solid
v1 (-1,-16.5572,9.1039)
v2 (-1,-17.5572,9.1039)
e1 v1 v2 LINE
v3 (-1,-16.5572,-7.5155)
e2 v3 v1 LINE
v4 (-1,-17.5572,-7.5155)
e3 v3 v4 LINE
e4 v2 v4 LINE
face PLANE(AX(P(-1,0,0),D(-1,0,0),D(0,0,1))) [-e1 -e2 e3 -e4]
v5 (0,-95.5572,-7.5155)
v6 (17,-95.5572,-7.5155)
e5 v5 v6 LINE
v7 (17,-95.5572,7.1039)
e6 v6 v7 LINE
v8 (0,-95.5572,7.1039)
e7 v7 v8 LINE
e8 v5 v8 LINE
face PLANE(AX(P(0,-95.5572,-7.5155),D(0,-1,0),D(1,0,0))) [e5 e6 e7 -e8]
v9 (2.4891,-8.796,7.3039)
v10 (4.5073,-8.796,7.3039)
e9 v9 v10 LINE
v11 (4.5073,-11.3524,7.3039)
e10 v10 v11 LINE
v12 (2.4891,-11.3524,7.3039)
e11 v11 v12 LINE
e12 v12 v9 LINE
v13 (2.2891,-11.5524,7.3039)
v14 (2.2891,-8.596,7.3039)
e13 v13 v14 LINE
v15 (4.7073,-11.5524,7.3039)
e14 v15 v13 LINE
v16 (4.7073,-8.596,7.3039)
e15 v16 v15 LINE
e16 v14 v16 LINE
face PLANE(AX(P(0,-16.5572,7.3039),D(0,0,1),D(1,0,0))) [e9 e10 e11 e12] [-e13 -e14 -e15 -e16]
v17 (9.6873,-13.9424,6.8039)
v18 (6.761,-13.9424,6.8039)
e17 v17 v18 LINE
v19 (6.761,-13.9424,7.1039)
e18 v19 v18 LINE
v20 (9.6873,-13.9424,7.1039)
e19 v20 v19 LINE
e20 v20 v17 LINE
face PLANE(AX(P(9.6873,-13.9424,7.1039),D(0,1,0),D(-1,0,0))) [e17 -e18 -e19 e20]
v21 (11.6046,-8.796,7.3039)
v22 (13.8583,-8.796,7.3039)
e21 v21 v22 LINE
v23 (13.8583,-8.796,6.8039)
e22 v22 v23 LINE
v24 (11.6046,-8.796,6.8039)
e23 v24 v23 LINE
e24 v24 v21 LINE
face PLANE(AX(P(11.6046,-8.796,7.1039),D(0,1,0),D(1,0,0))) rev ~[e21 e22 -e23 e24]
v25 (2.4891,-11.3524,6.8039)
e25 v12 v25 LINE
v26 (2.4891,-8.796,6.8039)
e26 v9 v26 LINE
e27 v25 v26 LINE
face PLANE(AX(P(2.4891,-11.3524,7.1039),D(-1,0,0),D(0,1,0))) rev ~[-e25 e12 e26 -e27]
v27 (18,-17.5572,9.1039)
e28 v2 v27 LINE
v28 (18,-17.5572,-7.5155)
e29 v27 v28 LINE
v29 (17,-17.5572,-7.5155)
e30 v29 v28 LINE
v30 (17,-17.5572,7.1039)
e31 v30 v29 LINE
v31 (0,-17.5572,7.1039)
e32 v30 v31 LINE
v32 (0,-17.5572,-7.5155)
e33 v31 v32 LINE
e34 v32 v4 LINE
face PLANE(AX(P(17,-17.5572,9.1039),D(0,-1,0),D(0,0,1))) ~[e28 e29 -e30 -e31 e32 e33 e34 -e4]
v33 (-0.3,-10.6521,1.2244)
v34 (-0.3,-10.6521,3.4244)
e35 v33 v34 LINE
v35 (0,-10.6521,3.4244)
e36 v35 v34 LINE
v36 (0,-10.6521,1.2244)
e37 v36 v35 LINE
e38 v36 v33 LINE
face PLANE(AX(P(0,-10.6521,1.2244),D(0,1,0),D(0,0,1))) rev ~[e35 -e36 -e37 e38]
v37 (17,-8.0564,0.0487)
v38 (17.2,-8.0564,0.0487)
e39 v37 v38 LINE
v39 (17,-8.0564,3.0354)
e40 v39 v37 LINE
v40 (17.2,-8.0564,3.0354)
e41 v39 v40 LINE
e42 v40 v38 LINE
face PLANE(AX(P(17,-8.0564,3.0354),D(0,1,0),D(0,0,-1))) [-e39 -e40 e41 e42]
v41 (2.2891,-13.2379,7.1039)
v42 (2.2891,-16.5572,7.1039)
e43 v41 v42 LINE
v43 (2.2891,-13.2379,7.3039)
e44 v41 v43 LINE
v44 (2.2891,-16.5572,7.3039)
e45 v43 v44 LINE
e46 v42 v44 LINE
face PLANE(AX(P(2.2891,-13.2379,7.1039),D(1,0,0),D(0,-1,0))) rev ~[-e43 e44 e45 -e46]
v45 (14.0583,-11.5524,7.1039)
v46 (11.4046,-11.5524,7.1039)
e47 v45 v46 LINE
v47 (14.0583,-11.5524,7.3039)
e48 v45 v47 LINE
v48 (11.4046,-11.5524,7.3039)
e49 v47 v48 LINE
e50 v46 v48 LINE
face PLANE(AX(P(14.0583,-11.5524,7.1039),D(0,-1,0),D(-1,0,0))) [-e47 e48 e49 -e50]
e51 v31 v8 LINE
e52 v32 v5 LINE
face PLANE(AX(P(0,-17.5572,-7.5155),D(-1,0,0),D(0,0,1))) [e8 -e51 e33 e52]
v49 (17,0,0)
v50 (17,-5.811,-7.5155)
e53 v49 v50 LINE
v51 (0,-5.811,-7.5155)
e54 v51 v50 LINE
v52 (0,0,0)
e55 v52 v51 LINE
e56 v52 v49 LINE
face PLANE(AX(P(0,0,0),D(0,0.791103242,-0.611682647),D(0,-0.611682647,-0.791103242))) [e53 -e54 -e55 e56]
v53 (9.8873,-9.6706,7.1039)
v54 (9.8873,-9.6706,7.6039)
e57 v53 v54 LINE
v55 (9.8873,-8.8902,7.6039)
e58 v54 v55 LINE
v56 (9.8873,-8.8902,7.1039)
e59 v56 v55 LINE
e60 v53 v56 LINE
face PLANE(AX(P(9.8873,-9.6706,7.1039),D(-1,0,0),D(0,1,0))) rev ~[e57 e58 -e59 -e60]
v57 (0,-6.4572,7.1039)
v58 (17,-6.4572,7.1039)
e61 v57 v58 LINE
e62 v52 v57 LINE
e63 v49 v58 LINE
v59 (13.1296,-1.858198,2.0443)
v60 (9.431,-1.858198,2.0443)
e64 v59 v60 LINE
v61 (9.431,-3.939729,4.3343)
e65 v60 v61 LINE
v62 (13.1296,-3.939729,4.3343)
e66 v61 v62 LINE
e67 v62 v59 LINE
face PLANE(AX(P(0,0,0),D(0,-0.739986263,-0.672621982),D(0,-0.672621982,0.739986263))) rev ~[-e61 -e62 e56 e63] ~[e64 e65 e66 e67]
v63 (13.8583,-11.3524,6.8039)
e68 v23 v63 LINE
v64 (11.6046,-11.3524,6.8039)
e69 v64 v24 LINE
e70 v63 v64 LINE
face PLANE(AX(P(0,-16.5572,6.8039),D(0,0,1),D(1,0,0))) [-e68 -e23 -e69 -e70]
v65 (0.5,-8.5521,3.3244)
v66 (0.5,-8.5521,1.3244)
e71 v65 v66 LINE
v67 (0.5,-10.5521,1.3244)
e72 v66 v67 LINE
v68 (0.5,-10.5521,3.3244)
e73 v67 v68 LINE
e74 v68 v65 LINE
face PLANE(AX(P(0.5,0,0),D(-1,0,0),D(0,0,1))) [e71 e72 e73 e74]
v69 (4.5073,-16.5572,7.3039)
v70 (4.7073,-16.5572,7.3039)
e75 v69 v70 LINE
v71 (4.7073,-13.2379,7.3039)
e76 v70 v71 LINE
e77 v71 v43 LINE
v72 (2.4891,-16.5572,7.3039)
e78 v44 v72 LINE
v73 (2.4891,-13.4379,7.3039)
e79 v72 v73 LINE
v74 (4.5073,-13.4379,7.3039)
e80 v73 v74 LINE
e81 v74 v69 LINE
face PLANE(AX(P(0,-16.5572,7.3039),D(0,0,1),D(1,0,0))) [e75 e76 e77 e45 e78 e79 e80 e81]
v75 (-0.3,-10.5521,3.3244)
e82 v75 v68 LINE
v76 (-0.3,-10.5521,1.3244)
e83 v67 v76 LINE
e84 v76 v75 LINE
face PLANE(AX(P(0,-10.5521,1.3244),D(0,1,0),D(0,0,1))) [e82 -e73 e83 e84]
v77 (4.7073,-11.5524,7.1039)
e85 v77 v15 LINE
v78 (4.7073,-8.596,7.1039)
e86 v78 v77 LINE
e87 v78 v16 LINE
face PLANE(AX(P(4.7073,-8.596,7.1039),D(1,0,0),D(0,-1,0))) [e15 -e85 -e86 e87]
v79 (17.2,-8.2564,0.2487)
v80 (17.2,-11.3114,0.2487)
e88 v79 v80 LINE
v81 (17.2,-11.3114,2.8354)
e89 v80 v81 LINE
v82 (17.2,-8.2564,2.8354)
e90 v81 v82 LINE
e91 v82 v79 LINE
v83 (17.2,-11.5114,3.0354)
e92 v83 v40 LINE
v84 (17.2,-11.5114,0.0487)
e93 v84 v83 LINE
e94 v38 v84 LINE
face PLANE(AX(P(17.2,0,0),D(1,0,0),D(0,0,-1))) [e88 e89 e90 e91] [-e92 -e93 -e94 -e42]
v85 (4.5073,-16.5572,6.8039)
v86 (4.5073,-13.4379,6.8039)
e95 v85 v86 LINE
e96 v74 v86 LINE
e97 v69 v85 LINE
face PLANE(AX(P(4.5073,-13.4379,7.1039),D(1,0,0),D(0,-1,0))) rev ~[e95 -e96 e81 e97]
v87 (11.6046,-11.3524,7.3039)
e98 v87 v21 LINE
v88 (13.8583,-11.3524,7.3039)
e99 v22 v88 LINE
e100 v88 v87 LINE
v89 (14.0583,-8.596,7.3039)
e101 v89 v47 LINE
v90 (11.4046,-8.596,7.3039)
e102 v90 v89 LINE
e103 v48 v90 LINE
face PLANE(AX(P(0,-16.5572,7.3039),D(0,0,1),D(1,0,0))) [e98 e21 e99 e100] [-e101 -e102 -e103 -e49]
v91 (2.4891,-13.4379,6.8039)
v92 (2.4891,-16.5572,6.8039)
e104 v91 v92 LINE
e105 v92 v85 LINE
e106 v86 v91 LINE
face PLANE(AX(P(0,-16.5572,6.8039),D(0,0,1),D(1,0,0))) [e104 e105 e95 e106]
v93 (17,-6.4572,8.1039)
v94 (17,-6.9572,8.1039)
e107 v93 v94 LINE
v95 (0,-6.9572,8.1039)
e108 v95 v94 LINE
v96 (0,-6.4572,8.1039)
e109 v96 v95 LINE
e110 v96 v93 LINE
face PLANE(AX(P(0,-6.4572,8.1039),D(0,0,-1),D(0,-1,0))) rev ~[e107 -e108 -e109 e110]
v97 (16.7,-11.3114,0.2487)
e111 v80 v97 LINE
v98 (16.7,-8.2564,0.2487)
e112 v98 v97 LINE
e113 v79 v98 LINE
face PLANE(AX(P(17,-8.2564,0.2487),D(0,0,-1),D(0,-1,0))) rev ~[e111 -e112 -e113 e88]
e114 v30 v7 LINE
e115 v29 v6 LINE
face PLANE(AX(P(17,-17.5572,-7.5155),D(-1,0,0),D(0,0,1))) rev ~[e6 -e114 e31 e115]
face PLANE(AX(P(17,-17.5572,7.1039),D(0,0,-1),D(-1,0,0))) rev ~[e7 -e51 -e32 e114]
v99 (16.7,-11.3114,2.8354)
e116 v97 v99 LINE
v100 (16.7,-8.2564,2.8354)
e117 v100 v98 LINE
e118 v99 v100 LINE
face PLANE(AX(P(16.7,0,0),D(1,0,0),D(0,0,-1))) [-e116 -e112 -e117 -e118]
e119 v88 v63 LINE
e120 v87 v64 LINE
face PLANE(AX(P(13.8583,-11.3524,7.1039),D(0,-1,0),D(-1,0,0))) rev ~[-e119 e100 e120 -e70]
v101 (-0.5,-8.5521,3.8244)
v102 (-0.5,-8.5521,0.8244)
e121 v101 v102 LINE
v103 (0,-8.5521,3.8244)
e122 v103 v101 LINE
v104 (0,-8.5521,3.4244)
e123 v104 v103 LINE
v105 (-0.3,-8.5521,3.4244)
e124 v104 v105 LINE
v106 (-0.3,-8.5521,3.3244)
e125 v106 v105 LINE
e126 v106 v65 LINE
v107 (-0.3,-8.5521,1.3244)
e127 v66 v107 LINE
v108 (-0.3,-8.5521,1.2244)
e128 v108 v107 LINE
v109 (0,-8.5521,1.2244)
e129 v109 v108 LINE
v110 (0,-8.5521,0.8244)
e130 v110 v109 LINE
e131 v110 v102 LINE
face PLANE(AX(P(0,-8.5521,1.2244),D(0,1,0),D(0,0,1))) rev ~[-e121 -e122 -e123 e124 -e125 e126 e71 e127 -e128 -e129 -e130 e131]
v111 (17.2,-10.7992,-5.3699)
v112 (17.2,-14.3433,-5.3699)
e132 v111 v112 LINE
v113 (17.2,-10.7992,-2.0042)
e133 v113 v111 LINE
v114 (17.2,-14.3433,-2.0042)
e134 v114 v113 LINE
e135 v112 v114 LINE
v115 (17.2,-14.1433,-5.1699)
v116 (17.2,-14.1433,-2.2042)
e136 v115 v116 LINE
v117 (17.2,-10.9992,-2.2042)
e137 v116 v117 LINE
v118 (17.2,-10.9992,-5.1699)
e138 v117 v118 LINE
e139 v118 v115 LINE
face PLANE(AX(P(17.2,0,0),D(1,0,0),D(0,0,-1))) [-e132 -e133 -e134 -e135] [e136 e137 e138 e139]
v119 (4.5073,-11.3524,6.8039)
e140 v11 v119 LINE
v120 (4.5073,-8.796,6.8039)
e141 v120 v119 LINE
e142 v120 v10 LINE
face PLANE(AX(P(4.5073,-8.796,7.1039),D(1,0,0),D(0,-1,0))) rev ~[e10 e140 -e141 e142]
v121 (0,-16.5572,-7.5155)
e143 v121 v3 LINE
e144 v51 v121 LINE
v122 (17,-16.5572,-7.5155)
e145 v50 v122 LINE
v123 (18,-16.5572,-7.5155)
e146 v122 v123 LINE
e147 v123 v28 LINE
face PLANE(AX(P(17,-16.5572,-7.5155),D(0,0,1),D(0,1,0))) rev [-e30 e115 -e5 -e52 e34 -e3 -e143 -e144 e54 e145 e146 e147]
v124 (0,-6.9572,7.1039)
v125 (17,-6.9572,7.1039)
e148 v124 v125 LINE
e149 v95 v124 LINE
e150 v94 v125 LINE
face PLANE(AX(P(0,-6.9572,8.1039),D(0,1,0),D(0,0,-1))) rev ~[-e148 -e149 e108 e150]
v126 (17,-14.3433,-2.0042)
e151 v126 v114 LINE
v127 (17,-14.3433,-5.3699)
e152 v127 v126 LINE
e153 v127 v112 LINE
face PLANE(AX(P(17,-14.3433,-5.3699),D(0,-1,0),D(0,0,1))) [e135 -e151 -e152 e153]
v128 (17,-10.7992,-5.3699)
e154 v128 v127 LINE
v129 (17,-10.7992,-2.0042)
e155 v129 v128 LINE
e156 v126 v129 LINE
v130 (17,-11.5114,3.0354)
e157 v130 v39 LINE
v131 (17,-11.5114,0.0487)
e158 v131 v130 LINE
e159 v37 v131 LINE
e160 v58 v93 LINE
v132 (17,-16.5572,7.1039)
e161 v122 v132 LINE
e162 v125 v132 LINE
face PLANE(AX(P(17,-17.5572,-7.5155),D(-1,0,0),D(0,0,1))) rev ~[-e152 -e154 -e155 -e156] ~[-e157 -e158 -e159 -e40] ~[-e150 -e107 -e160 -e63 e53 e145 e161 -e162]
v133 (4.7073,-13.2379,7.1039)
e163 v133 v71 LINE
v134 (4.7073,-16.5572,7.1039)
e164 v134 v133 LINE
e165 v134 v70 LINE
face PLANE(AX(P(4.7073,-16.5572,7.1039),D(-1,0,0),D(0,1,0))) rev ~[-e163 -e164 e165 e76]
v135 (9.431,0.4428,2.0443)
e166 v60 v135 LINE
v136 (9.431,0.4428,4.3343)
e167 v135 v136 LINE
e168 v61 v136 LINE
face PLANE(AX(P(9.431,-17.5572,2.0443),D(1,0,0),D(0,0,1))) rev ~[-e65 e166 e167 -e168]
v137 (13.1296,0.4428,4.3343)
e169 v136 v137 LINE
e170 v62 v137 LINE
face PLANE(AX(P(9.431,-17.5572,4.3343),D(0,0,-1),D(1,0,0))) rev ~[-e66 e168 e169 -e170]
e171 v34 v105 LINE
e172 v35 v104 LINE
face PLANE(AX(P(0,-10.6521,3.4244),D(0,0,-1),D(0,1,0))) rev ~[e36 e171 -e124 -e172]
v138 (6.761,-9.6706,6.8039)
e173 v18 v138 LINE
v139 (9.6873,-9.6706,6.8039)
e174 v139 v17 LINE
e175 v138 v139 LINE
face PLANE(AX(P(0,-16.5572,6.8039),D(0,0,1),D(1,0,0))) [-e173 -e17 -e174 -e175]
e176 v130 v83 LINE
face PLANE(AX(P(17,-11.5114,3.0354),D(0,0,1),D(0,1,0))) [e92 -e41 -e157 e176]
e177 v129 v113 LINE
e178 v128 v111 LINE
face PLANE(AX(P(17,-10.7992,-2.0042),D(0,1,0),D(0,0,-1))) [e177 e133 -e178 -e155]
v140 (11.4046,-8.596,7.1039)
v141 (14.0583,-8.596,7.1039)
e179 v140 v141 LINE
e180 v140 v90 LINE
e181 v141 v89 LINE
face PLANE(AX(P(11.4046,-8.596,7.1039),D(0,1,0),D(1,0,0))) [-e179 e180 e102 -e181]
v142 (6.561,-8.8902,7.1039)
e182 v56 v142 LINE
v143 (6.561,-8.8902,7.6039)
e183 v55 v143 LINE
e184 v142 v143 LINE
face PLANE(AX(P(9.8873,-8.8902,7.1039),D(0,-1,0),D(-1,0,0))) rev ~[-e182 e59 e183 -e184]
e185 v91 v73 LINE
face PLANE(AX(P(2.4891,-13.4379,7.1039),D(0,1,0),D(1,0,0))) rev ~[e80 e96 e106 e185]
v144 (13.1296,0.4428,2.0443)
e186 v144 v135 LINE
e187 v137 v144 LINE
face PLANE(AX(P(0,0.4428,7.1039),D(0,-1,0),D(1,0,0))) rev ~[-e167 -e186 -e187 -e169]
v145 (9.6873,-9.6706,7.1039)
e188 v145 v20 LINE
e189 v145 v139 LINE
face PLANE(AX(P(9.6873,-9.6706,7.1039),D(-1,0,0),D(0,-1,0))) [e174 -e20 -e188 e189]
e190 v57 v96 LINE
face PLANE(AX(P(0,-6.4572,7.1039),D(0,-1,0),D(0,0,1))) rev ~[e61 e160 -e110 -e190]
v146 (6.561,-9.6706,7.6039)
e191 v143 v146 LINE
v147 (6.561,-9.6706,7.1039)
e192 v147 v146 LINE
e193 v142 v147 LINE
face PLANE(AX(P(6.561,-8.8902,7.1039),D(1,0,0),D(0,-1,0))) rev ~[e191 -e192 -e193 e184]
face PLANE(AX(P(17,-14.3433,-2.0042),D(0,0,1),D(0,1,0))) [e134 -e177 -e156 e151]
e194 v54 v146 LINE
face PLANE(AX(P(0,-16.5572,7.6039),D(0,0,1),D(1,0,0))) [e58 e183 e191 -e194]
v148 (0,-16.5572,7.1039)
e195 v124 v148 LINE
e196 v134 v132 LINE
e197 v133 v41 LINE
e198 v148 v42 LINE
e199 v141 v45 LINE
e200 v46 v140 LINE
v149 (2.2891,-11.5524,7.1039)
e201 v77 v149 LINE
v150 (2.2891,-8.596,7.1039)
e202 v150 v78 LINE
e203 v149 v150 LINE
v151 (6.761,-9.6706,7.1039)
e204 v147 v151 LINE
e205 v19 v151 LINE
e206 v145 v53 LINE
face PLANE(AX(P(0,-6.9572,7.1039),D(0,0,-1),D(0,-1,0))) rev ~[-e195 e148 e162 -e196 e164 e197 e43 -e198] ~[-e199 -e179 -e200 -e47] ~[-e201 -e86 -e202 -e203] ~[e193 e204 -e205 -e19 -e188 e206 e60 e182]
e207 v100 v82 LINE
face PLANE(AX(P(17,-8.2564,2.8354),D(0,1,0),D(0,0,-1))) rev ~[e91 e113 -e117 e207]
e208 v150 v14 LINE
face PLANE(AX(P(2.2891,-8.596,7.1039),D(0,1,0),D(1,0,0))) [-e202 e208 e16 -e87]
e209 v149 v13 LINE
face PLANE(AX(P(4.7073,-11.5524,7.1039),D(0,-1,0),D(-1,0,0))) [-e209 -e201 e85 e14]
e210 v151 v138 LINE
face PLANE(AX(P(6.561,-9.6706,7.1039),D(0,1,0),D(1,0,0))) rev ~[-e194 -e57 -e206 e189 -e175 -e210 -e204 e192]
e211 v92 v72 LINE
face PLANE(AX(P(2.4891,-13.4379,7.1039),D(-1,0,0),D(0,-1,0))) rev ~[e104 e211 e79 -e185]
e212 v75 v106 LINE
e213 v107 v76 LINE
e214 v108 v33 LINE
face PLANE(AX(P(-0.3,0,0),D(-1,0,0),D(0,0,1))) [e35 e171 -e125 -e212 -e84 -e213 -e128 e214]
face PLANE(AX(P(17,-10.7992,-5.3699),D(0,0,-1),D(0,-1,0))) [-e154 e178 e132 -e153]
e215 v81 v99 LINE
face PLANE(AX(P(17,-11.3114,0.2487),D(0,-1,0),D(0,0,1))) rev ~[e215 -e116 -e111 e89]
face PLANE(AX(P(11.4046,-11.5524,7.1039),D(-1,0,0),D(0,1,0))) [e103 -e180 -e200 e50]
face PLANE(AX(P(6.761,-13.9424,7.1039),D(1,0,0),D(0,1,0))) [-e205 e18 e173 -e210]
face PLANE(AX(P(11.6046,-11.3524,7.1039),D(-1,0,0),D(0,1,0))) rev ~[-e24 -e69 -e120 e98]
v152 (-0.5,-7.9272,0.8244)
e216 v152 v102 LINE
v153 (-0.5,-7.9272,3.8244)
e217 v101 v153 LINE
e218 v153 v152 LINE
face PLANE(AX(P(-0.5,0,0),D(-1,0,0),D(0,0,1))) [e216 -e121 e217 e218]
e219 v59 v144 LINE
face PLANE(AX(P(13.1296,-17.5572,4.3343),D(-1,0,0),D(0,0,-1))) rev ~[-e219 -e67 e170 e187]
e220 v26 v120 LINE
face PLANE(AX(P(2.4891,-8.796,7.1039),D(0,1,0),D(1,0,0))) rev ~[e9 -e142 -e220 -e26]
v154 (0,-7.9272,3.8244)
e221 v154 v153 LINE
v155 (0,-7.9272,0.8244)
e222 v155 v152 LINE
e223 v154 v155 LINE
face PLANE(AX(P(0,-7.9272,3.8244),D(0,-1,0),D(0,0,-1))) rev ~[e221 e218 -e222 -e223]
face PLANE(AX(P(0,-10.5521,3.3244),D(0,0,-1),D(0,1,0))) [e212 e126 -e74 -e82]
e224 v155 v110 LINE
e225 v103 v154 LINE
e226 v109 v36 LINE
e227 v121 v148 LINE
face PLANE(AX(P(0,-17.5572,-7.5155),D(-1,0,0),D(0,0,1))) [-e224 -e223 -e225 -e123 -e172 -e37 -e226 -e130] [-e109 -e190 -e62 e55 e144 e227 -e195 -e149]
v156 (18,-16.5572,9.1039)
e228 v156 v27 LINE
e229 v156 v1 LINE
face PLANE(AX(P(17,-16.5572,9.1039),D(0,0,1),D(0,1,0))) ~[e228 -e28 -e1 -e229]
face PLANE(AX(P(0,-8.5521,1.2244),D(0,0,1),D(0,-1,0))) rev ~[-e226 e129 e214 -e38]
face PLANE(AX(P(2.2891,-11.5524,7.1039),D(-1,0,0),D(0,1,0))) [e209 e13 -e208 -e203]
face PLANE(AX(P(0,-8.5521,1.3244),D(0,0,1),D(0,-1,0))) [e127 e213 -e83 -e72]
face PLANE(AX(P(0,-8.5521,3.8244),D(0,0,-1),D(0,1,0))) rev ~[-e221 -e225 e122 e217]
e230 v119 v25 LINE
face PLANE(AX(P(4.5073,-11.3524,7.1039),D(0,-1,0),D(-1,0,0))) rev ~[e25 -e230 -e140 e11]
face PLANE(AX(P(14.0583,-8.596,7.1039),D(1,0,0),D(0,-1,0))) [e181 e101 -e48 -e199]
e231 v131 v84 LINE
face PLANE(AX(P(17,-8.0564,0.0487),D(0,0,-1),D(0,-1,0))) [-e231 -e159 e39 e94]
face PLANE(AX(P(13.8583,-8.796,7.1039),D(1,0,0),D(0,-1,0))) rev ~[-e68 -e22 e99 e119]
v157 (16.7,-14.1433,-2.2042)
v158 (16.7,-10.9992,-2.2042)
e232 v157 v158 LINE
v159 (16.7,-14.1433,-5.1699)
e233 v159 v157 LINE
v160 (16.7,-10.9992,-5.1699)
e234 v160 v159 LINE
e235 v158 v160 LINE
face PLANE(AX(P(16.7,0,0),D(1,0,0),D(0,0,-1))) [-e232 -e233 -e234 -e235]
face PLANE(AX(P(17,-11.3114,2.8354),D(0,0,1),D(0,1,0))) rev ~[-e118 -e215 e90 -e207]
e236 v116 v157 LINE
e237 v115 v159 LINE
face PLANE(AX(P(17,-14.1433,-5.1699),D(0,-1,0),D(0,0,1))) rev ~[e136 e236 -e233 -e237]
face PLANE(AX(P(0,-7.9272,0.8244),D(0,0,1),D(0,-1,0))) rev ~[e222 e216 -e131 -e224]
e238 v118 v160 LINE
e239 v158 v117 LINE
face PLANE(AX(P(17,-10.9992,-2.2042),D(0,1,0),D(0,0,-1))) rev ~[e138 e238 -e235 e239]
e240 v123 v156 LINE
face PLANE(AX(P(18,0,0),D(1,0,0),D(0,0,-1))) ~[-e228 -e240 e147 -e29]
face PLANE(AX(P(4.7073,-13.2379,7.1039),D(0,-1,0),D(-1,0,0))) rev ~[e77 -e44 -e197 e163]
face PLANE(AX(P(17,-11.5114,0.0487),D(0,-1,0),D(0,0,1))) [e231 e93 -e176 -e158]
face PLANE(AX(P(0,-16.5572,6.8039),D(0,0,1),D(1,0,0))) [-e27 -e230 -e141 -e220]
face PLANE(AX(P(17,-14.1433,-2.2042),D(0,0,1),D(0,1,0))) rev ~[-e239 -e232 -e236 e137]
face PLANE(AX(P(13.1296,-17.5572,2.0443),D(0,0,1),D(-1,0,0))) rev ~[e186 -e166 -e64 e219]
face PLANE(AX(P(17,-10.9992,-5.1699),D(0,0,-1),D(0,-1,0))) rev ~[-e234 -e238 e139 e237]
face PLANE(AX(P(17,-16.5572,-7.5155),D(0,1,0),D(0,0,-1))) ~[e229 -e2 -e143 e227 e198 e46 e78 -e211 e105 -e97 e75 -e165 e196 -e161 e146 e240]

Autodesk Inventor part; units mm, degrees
ref_plane "YZ Plane" through (0, 0, 0) normal (1, 0, 0) x (0, 1, 0)
ref_plane "XZ Plane" through (0, 0, 0) normal (0, 1, 0) x (-1, 0, 0)
sketch "草圖1" plane through (0, 0, 0) normal (1, 0, 0) x (0, 1, 0)
  line L0 (0, 0) -> (-6.4572, 7.1039)
  line L1 (-6.4572, 7.1039) -> (-6.4572, 8.1039)
  line L2 (-6.4572, 8.1039) -> (-6.9572, 8.1039)
  line L3 (-6.9572, 8.1039) -> (-6.9572, 7.1039)
  line L4 (-6.9572, 7.1039) -> (-16.5572, 7.1039)
  line L5 (-16.5572, 7.1039) -> (-16.5572, 9.1039)
  line L6 (-16.5572, 9.1039) -> (-17.5572, 9.1039)
  line L7 (-17.5572, 9.1039) -> (-17.5572, 0)
  line L8 (0, 0) -> (-5.811, -7.5155)
  line L9 (-5.811, -7.5155) -> (-17.5572, -7.5155)
  line L10 (-17.5572, -7.5155) -> (-17.5572, 0)
  dimension "d0" = 9.6
  dimension "d1" = 1
  dimension "d2" = 0.5
  dimension "d3" = 9.6
  dimension "d4" = 2
  dimension "d5" = 1
  dimension "d6" = 9.5
extrude "擠出1" add sketch "草圖1" along normal blind 17
sketch "草圖2" plane through (0, 0, 0) normal (-1, 0, 0) x (0, 0, 1)
  line L0 (1.3244, -10.5521) -> (3.3244, -10.5521)
  line L1 (3.3244, -10.5521) -> (3.3244, -8.5521)
  line L2 (3.3244, -8.5521) -> (1.3244, -8.5521)
  line L3 (1.3244, -8.5521) -> (1.3244, -10.5521)
  line L4 (1.3244, -10.5521) -> (3.3244, -8.5521) construction
  line L5 (3.3244, -10.5521) -> (1.3244, -8.5521) construction
  line L6 (0.8244, -8.5521) -> (3.8244, -8.5521)
  line L7 (3.8244, -8.5521) -> (3.8244, -7.9272)
  line L8 (3.8244, -7.9272) -> (0.8244, -7.9272)
  line L9 (0.8244, -7.9272) -> (0.8244, -8.5521)
  line L10 (1.2244, -10.6521) -> (3.4244, -10.6521)
  line L11 (3.4244, -10.6521) -> (3.4244, -8.4521)
  line L12 (3.4244, -8.4521) -> (1.2244, -8.4521)
  line L13 (1.2244, -8.4521) -> (1.2244, -10.6521)
  line L14 (1.2244, -10.6521) -> (3.4244, -8.4521) construction
  line L15 (3.4244, -10.6521) -> (1.2244, -8.4521) construction
  point P0 (0, 0)
  point P1 (2.3244, -9.5521)
  point P2 (0.8244, -8.2396)
  point P3 (1.2244, -8.5521)
  point P4 (3.4244, -8.5521)
  dimension "d9" = 0.5
  dimension "d10" = 0.5
  dimension "d15" = 0.1
  dimension "d16" = 0.1
  dimension "d17" = 0.1
  dimension "d18" = 0.1
  dimension "d19" = 2
extrude "擠出2" add sketch "草圖2" along normal blind 0.5 contours L6 L13 L12 L11 L2 | L6 L9 L8 L7 L11 L12 L13
extrude "擠出3" cut sketch "草圖2" against normal blind 0.5 contours L3 L2 L1 L0
extrude "擠出4" add sketch "草圖2" along normal blind 0.3 contours L0 L1 L6 L11 L10 L13 L3
sketch "草圖3" plane through (0, -16.5572, 7.1039) normal (0, 0, 1) x (1, 0, 0)
  line L0 (2.4891, 7.7612) -> (4.5073, 7.7612)
  line L1 (4.5073, 7.7612) -> (4.5073, 5.2048)
  line L2 (4.5073, 5.2048) -> (2.4891, 5.2048)
  line L3 (2.4891, 5.2048) -> (2.4891, 7.7612)
  line L4 (0, 0) -> (17, 0) projected
  line L5 (2.4891, 0) -> (4.5073, 0)
  line L6 (4.5073, 0) -> (4.5073, 3.1193)
  line L7 (4.5073, 3.1193) -> (2.4891, 3.1193)
  line L8 (2.4891, 3.1193) -> (2.4891, 0)
  line L9 (6.761, 6.8866) -> (9.6873, 6.8866)
  line L10 (9.6873, 6.8866) -> (9.6873, 2.6148)
  line L11 (9.6873, 2.6148) -> (6.761, 2.6148)
  line L12 (6.761, 2.6148) -> (6.761, 6.8866)
  line L13 (11.6046, 7.7612) -> (13.8583, 7.7612)
  line L14 (13.8583, 7.7612) -> (13.8583, 5.2048)
  line L15 (13.8583, 5.2048) -> (11.6046, 5.2048)
  line L16 (11.6046, 5.2048) -> (11.6046, 7.7612)
  point P0 (0, 16.5572)
extrude "擠出5" cut sketch "草圖3" against normal blind 0.3
sketch "草圖4" plane through (0, -16.5572, 7.1039) normal (0, 0, 1) x (1, 0, 0)
  line L0 (0, 0) -> (17, 0) projected
  line L1 (2.2891, 0) -> (4.7073, 0)
  line L2 (4.7073, 0) -> (4.7073, 3.3193)
  line L3 (4.7073, 3.3193) -> (2.2891, 3.3193)
  line L4 (2.2891, 3.3193) -> (2.2891, 0)
  line L5 (6.561, 6.8866) -> (9.8873, 6.8866)
  line L6 (9.8873, 6.8866) -> (9.8873, 7.667)
  line L7 (9.8873, 7.667) -> (6.561, 7.667)
  line L8 (6.561, 7.667) -> (6.561, 6.8866)
  line L9 (6.761, 2.6148) -> (6.761, 6.8866) projected
  line L10 (9.6873, 6.8866) -> (9.6873, 2.6148) projected
  line L11 (4.5073, 3.1193) -> (4.5073, 0) projected
  line L12 (2.4891, 0) -> (2.4891, 3.1193) projected
  line L13 (2.4891, 3.1193) -> (4.5073, 3.1193) projected
  line L14 (2.2891, 7.9612) -> (4.7073, 7.9612)
  line L15 (4.7073, 7.9612) -> (4.7073, 5.0048)
  line L16 (4.7073, 5.0048) -> (2.2891, 5.0048)
  line L17 (2.2891, 5.0048) -> (2.2891, 7.9612)
  line L18 (11.4046, 7.9612) -> (14.0583, 7.9612)
  line L19 (14.0583, 7.9612) -> (14.0583, 5.0048)
  line L20 (14.0583, 5.0048) -> (11.4046, 5.0048)
  line L21 (11.4046, 5.0048) -> (11.4046, 7.9612)
  line L22 (11.6046, 7.7612) -> (13.8583, 7.7612) projected
  line L23 (13.8583, 7.7612) -> (13.8583, 5.2048) projected
  line L24 (11.6046, 5.2048) -> (11.6046, 7.7612) projected
  line L25 (13.8583, 5.2048) -> (11.6046, 5.2048) projected
  line L26 (4.5073, 7.7612) -> (4.5073, 5.2048) projected
  line L27 (4.5073, 5.2048) -> (2.4891, 5.2048) projected
  line L28 (2.4891, 5.2048) -> (2.4891, 7.7612) projected
  line L29 (2.4891, 7.7612) -> (4.5073, 7.7612)
  line L30 (4.5073, 7.7612) -> (4.5073, 5.2048)
  line L31 (4.5073, 5.2048) -> (2.4891, 5.2048)
  line L32 (2.4891, 5.2048) -> (2.4891, 7.7612)
  line L33 (2.4891, 3.1193) -> (4.5073, 3.1193)
  line L34 (4.5073, 3.1193) -> (4.5073, 0)
  line L35 (4.5073, 0) -> (2.4891, 0)
  line L36 (2.4891, 0) -> (2.4891, 3.1193)
  line L37 (11.6046, 7.7612) -> (13.8583, 7.7612)
  line L38 (13.8583, 7.7612) -> (13.8583, 5.2048)
  line L39 (13.8583, 5.2048) -> (11.6046, 5.2048)
  line L40 (11.6046, 5.2048) -> (11.6046, 7.7612)
  point P0 (0, 16.5572)
  dimension "d24" = 0.2
  dimension "d25" = 0.2
  dimension "d26" = 0.2
  dimension "d27" = 0.2
  dimension "d28" = 0.2
  dimension "d29" = 0.2
  dimension "d30" = 0.2
  dimension "d31" = 0.2
  dimension "d32" = 0.2
  dimension "d33" = 0.2
  dimension "d34" = 0.2
  dimension "d35" = 0.2
extrude "擠出6" add sketch "草圖4" along normal blind 0.2 contours L4 L3 L2 L0 L11 L13 L12 | L14 L15 L16 L17 | L18 L19 L20 L21
extrude "擠出7" add sketch "草圖4" along normal blind 0.5 contours L8 L7 L6 L5
sketch "草圖5" plane through (17, 0, 0) normal (1, 0, 0) x (0, 0, -1)
  line L0 (-2.8354, -8.2564) -> (-0.2487, -8.2564)
  line L1 (-0.2487, -8.2564) -> (-0.2487, -11.3114)
  line L2 (-0.2487, -11.3114) -> (-2.8354, -11.3114)
  line L3 (-2.8354, -11.3114) -> (-2.8354, -8.2564)
  line L4 (2.2042, -10.9992) -> (5.1699, -10.9992)
  line L5 (5.1699, -10.9992) -> (5.1699, -14.1433)
  line L6 (5.1699, -14.1433) -> (2.2042, -14.1433)
  line L7 (2.2042, -14.1433) -> (2.2042, -10.9992)
  line L8 (-3.0354, -8.0564) -> (-0.0487, -8.0564)
  line L9 (-0.0487, -8.0564) -> (-0.0487, -11.5114)
  line L10 (-0.0487, -11.5114) -> (-3.0354, -11.5114)
  line L11 (-3.0354, -11.5114) -> (-3.0354, -8.0564)
  line L12 (2.0042, -10.7992) -> (5.3699, -10.7992)
  line L13 (5.3699, -10.7992) -> (5.3699, -14.3433)
  line L14 (5.3699, -14.3433) -> (2.0042, -14.3433)
  line L15 (2.0042, -14.3433) -> (2.0042, -10.7992)
  point P0 (0, 0)
  dimension "d40" = 0.2
  dimension "d41" = 0.2
  dimension "d42" = 0.2
  dimension "d43" = 0.2
  dimension "d44" = 0.2
  dimension "d45" = 0.2
  dimension "d46" = 0.2
  dimension "d47" = 0.2
extrude "擠出8" cut sketch "草圖5" against normal blind 0.3 contours L0 L1 L2 L3 | L4 L5 L6 L7
extrude "擠出9" add sketch "草圖5" along normal blind 0.2
sketch "草圖6" plane through (0, -17.5572, -7.5155) normal (0, -1, 0) x (1, 0, 0)
  line L0 (0, 0) -> (0, 7.5155) projected
  line L1 (17, 7.5155) -> (17, 14.6194) projected
  line L2 (0, 0) -> (17, 0)
  line L3 (17, 0) -> (17, 14.6194)
  line L4 (17, 14.6194) -> (0, 14.6194)
  line L5 (0, 14.6194) -> (0, 0)
extrude "擠出10" add sketch "草圖6" along normal blind 78
sketch "草圖7" plane through (0, 0, 0) normal (-1, 0, 0) x (0, 0, 1)
  line L0 (9.1039, -16.5572) -> (9.1039, -17.5572) projected
  line L1 (-7.5155, -5.811) -> (-7.5155, -95.5572) projected
  line L2 (9.1039, -17.5572) -> (-7.5155, -17.5572)
  line L3 (-7.5155, -17.5572) -> (-7.5155, -16.5572)
  line L4 (-7.5155, -16.5572) -> (9.1039, -16.5572)
  line L5 (9.1039, -16.5572) -> (9.1039, -17.5572)
  point P0 (0, 0)
  point P1 (-7.5155, -17.5572)
  dimension "d54" = 1
extrude "擠出11" add sketch "草圖7" along normal blind 1
ref_plane "工作平面1" through (8.5, 0, 0) normal (-1, 0, 0) x (0, 0, 1)
mirror "鏡射1" about plane through (8.5, 0, 0) normal (-1, 0, 0) of "擠出11"
sketch "草圖8" plane through (0, -17.5572, 7.1039) normal (0, -1, 0) x (1, 0, 0)
  line L0 (9.431, -2.7696) -> (13.1296, -2.7696)
  line L1 (13.1296, -2.7696) -> (13.1296, -5.0596)
  line L2 (13.1296, -5.0596) -> (9.431, -5.0596)
  line L3 (9.431, -5.0596) -> (9.431, -2.7696)
  point P0 (0, -7.1039)
extrude "擠出12" add sketch "草圖8" against normal blind 18
properties part number "屋1 物3"
